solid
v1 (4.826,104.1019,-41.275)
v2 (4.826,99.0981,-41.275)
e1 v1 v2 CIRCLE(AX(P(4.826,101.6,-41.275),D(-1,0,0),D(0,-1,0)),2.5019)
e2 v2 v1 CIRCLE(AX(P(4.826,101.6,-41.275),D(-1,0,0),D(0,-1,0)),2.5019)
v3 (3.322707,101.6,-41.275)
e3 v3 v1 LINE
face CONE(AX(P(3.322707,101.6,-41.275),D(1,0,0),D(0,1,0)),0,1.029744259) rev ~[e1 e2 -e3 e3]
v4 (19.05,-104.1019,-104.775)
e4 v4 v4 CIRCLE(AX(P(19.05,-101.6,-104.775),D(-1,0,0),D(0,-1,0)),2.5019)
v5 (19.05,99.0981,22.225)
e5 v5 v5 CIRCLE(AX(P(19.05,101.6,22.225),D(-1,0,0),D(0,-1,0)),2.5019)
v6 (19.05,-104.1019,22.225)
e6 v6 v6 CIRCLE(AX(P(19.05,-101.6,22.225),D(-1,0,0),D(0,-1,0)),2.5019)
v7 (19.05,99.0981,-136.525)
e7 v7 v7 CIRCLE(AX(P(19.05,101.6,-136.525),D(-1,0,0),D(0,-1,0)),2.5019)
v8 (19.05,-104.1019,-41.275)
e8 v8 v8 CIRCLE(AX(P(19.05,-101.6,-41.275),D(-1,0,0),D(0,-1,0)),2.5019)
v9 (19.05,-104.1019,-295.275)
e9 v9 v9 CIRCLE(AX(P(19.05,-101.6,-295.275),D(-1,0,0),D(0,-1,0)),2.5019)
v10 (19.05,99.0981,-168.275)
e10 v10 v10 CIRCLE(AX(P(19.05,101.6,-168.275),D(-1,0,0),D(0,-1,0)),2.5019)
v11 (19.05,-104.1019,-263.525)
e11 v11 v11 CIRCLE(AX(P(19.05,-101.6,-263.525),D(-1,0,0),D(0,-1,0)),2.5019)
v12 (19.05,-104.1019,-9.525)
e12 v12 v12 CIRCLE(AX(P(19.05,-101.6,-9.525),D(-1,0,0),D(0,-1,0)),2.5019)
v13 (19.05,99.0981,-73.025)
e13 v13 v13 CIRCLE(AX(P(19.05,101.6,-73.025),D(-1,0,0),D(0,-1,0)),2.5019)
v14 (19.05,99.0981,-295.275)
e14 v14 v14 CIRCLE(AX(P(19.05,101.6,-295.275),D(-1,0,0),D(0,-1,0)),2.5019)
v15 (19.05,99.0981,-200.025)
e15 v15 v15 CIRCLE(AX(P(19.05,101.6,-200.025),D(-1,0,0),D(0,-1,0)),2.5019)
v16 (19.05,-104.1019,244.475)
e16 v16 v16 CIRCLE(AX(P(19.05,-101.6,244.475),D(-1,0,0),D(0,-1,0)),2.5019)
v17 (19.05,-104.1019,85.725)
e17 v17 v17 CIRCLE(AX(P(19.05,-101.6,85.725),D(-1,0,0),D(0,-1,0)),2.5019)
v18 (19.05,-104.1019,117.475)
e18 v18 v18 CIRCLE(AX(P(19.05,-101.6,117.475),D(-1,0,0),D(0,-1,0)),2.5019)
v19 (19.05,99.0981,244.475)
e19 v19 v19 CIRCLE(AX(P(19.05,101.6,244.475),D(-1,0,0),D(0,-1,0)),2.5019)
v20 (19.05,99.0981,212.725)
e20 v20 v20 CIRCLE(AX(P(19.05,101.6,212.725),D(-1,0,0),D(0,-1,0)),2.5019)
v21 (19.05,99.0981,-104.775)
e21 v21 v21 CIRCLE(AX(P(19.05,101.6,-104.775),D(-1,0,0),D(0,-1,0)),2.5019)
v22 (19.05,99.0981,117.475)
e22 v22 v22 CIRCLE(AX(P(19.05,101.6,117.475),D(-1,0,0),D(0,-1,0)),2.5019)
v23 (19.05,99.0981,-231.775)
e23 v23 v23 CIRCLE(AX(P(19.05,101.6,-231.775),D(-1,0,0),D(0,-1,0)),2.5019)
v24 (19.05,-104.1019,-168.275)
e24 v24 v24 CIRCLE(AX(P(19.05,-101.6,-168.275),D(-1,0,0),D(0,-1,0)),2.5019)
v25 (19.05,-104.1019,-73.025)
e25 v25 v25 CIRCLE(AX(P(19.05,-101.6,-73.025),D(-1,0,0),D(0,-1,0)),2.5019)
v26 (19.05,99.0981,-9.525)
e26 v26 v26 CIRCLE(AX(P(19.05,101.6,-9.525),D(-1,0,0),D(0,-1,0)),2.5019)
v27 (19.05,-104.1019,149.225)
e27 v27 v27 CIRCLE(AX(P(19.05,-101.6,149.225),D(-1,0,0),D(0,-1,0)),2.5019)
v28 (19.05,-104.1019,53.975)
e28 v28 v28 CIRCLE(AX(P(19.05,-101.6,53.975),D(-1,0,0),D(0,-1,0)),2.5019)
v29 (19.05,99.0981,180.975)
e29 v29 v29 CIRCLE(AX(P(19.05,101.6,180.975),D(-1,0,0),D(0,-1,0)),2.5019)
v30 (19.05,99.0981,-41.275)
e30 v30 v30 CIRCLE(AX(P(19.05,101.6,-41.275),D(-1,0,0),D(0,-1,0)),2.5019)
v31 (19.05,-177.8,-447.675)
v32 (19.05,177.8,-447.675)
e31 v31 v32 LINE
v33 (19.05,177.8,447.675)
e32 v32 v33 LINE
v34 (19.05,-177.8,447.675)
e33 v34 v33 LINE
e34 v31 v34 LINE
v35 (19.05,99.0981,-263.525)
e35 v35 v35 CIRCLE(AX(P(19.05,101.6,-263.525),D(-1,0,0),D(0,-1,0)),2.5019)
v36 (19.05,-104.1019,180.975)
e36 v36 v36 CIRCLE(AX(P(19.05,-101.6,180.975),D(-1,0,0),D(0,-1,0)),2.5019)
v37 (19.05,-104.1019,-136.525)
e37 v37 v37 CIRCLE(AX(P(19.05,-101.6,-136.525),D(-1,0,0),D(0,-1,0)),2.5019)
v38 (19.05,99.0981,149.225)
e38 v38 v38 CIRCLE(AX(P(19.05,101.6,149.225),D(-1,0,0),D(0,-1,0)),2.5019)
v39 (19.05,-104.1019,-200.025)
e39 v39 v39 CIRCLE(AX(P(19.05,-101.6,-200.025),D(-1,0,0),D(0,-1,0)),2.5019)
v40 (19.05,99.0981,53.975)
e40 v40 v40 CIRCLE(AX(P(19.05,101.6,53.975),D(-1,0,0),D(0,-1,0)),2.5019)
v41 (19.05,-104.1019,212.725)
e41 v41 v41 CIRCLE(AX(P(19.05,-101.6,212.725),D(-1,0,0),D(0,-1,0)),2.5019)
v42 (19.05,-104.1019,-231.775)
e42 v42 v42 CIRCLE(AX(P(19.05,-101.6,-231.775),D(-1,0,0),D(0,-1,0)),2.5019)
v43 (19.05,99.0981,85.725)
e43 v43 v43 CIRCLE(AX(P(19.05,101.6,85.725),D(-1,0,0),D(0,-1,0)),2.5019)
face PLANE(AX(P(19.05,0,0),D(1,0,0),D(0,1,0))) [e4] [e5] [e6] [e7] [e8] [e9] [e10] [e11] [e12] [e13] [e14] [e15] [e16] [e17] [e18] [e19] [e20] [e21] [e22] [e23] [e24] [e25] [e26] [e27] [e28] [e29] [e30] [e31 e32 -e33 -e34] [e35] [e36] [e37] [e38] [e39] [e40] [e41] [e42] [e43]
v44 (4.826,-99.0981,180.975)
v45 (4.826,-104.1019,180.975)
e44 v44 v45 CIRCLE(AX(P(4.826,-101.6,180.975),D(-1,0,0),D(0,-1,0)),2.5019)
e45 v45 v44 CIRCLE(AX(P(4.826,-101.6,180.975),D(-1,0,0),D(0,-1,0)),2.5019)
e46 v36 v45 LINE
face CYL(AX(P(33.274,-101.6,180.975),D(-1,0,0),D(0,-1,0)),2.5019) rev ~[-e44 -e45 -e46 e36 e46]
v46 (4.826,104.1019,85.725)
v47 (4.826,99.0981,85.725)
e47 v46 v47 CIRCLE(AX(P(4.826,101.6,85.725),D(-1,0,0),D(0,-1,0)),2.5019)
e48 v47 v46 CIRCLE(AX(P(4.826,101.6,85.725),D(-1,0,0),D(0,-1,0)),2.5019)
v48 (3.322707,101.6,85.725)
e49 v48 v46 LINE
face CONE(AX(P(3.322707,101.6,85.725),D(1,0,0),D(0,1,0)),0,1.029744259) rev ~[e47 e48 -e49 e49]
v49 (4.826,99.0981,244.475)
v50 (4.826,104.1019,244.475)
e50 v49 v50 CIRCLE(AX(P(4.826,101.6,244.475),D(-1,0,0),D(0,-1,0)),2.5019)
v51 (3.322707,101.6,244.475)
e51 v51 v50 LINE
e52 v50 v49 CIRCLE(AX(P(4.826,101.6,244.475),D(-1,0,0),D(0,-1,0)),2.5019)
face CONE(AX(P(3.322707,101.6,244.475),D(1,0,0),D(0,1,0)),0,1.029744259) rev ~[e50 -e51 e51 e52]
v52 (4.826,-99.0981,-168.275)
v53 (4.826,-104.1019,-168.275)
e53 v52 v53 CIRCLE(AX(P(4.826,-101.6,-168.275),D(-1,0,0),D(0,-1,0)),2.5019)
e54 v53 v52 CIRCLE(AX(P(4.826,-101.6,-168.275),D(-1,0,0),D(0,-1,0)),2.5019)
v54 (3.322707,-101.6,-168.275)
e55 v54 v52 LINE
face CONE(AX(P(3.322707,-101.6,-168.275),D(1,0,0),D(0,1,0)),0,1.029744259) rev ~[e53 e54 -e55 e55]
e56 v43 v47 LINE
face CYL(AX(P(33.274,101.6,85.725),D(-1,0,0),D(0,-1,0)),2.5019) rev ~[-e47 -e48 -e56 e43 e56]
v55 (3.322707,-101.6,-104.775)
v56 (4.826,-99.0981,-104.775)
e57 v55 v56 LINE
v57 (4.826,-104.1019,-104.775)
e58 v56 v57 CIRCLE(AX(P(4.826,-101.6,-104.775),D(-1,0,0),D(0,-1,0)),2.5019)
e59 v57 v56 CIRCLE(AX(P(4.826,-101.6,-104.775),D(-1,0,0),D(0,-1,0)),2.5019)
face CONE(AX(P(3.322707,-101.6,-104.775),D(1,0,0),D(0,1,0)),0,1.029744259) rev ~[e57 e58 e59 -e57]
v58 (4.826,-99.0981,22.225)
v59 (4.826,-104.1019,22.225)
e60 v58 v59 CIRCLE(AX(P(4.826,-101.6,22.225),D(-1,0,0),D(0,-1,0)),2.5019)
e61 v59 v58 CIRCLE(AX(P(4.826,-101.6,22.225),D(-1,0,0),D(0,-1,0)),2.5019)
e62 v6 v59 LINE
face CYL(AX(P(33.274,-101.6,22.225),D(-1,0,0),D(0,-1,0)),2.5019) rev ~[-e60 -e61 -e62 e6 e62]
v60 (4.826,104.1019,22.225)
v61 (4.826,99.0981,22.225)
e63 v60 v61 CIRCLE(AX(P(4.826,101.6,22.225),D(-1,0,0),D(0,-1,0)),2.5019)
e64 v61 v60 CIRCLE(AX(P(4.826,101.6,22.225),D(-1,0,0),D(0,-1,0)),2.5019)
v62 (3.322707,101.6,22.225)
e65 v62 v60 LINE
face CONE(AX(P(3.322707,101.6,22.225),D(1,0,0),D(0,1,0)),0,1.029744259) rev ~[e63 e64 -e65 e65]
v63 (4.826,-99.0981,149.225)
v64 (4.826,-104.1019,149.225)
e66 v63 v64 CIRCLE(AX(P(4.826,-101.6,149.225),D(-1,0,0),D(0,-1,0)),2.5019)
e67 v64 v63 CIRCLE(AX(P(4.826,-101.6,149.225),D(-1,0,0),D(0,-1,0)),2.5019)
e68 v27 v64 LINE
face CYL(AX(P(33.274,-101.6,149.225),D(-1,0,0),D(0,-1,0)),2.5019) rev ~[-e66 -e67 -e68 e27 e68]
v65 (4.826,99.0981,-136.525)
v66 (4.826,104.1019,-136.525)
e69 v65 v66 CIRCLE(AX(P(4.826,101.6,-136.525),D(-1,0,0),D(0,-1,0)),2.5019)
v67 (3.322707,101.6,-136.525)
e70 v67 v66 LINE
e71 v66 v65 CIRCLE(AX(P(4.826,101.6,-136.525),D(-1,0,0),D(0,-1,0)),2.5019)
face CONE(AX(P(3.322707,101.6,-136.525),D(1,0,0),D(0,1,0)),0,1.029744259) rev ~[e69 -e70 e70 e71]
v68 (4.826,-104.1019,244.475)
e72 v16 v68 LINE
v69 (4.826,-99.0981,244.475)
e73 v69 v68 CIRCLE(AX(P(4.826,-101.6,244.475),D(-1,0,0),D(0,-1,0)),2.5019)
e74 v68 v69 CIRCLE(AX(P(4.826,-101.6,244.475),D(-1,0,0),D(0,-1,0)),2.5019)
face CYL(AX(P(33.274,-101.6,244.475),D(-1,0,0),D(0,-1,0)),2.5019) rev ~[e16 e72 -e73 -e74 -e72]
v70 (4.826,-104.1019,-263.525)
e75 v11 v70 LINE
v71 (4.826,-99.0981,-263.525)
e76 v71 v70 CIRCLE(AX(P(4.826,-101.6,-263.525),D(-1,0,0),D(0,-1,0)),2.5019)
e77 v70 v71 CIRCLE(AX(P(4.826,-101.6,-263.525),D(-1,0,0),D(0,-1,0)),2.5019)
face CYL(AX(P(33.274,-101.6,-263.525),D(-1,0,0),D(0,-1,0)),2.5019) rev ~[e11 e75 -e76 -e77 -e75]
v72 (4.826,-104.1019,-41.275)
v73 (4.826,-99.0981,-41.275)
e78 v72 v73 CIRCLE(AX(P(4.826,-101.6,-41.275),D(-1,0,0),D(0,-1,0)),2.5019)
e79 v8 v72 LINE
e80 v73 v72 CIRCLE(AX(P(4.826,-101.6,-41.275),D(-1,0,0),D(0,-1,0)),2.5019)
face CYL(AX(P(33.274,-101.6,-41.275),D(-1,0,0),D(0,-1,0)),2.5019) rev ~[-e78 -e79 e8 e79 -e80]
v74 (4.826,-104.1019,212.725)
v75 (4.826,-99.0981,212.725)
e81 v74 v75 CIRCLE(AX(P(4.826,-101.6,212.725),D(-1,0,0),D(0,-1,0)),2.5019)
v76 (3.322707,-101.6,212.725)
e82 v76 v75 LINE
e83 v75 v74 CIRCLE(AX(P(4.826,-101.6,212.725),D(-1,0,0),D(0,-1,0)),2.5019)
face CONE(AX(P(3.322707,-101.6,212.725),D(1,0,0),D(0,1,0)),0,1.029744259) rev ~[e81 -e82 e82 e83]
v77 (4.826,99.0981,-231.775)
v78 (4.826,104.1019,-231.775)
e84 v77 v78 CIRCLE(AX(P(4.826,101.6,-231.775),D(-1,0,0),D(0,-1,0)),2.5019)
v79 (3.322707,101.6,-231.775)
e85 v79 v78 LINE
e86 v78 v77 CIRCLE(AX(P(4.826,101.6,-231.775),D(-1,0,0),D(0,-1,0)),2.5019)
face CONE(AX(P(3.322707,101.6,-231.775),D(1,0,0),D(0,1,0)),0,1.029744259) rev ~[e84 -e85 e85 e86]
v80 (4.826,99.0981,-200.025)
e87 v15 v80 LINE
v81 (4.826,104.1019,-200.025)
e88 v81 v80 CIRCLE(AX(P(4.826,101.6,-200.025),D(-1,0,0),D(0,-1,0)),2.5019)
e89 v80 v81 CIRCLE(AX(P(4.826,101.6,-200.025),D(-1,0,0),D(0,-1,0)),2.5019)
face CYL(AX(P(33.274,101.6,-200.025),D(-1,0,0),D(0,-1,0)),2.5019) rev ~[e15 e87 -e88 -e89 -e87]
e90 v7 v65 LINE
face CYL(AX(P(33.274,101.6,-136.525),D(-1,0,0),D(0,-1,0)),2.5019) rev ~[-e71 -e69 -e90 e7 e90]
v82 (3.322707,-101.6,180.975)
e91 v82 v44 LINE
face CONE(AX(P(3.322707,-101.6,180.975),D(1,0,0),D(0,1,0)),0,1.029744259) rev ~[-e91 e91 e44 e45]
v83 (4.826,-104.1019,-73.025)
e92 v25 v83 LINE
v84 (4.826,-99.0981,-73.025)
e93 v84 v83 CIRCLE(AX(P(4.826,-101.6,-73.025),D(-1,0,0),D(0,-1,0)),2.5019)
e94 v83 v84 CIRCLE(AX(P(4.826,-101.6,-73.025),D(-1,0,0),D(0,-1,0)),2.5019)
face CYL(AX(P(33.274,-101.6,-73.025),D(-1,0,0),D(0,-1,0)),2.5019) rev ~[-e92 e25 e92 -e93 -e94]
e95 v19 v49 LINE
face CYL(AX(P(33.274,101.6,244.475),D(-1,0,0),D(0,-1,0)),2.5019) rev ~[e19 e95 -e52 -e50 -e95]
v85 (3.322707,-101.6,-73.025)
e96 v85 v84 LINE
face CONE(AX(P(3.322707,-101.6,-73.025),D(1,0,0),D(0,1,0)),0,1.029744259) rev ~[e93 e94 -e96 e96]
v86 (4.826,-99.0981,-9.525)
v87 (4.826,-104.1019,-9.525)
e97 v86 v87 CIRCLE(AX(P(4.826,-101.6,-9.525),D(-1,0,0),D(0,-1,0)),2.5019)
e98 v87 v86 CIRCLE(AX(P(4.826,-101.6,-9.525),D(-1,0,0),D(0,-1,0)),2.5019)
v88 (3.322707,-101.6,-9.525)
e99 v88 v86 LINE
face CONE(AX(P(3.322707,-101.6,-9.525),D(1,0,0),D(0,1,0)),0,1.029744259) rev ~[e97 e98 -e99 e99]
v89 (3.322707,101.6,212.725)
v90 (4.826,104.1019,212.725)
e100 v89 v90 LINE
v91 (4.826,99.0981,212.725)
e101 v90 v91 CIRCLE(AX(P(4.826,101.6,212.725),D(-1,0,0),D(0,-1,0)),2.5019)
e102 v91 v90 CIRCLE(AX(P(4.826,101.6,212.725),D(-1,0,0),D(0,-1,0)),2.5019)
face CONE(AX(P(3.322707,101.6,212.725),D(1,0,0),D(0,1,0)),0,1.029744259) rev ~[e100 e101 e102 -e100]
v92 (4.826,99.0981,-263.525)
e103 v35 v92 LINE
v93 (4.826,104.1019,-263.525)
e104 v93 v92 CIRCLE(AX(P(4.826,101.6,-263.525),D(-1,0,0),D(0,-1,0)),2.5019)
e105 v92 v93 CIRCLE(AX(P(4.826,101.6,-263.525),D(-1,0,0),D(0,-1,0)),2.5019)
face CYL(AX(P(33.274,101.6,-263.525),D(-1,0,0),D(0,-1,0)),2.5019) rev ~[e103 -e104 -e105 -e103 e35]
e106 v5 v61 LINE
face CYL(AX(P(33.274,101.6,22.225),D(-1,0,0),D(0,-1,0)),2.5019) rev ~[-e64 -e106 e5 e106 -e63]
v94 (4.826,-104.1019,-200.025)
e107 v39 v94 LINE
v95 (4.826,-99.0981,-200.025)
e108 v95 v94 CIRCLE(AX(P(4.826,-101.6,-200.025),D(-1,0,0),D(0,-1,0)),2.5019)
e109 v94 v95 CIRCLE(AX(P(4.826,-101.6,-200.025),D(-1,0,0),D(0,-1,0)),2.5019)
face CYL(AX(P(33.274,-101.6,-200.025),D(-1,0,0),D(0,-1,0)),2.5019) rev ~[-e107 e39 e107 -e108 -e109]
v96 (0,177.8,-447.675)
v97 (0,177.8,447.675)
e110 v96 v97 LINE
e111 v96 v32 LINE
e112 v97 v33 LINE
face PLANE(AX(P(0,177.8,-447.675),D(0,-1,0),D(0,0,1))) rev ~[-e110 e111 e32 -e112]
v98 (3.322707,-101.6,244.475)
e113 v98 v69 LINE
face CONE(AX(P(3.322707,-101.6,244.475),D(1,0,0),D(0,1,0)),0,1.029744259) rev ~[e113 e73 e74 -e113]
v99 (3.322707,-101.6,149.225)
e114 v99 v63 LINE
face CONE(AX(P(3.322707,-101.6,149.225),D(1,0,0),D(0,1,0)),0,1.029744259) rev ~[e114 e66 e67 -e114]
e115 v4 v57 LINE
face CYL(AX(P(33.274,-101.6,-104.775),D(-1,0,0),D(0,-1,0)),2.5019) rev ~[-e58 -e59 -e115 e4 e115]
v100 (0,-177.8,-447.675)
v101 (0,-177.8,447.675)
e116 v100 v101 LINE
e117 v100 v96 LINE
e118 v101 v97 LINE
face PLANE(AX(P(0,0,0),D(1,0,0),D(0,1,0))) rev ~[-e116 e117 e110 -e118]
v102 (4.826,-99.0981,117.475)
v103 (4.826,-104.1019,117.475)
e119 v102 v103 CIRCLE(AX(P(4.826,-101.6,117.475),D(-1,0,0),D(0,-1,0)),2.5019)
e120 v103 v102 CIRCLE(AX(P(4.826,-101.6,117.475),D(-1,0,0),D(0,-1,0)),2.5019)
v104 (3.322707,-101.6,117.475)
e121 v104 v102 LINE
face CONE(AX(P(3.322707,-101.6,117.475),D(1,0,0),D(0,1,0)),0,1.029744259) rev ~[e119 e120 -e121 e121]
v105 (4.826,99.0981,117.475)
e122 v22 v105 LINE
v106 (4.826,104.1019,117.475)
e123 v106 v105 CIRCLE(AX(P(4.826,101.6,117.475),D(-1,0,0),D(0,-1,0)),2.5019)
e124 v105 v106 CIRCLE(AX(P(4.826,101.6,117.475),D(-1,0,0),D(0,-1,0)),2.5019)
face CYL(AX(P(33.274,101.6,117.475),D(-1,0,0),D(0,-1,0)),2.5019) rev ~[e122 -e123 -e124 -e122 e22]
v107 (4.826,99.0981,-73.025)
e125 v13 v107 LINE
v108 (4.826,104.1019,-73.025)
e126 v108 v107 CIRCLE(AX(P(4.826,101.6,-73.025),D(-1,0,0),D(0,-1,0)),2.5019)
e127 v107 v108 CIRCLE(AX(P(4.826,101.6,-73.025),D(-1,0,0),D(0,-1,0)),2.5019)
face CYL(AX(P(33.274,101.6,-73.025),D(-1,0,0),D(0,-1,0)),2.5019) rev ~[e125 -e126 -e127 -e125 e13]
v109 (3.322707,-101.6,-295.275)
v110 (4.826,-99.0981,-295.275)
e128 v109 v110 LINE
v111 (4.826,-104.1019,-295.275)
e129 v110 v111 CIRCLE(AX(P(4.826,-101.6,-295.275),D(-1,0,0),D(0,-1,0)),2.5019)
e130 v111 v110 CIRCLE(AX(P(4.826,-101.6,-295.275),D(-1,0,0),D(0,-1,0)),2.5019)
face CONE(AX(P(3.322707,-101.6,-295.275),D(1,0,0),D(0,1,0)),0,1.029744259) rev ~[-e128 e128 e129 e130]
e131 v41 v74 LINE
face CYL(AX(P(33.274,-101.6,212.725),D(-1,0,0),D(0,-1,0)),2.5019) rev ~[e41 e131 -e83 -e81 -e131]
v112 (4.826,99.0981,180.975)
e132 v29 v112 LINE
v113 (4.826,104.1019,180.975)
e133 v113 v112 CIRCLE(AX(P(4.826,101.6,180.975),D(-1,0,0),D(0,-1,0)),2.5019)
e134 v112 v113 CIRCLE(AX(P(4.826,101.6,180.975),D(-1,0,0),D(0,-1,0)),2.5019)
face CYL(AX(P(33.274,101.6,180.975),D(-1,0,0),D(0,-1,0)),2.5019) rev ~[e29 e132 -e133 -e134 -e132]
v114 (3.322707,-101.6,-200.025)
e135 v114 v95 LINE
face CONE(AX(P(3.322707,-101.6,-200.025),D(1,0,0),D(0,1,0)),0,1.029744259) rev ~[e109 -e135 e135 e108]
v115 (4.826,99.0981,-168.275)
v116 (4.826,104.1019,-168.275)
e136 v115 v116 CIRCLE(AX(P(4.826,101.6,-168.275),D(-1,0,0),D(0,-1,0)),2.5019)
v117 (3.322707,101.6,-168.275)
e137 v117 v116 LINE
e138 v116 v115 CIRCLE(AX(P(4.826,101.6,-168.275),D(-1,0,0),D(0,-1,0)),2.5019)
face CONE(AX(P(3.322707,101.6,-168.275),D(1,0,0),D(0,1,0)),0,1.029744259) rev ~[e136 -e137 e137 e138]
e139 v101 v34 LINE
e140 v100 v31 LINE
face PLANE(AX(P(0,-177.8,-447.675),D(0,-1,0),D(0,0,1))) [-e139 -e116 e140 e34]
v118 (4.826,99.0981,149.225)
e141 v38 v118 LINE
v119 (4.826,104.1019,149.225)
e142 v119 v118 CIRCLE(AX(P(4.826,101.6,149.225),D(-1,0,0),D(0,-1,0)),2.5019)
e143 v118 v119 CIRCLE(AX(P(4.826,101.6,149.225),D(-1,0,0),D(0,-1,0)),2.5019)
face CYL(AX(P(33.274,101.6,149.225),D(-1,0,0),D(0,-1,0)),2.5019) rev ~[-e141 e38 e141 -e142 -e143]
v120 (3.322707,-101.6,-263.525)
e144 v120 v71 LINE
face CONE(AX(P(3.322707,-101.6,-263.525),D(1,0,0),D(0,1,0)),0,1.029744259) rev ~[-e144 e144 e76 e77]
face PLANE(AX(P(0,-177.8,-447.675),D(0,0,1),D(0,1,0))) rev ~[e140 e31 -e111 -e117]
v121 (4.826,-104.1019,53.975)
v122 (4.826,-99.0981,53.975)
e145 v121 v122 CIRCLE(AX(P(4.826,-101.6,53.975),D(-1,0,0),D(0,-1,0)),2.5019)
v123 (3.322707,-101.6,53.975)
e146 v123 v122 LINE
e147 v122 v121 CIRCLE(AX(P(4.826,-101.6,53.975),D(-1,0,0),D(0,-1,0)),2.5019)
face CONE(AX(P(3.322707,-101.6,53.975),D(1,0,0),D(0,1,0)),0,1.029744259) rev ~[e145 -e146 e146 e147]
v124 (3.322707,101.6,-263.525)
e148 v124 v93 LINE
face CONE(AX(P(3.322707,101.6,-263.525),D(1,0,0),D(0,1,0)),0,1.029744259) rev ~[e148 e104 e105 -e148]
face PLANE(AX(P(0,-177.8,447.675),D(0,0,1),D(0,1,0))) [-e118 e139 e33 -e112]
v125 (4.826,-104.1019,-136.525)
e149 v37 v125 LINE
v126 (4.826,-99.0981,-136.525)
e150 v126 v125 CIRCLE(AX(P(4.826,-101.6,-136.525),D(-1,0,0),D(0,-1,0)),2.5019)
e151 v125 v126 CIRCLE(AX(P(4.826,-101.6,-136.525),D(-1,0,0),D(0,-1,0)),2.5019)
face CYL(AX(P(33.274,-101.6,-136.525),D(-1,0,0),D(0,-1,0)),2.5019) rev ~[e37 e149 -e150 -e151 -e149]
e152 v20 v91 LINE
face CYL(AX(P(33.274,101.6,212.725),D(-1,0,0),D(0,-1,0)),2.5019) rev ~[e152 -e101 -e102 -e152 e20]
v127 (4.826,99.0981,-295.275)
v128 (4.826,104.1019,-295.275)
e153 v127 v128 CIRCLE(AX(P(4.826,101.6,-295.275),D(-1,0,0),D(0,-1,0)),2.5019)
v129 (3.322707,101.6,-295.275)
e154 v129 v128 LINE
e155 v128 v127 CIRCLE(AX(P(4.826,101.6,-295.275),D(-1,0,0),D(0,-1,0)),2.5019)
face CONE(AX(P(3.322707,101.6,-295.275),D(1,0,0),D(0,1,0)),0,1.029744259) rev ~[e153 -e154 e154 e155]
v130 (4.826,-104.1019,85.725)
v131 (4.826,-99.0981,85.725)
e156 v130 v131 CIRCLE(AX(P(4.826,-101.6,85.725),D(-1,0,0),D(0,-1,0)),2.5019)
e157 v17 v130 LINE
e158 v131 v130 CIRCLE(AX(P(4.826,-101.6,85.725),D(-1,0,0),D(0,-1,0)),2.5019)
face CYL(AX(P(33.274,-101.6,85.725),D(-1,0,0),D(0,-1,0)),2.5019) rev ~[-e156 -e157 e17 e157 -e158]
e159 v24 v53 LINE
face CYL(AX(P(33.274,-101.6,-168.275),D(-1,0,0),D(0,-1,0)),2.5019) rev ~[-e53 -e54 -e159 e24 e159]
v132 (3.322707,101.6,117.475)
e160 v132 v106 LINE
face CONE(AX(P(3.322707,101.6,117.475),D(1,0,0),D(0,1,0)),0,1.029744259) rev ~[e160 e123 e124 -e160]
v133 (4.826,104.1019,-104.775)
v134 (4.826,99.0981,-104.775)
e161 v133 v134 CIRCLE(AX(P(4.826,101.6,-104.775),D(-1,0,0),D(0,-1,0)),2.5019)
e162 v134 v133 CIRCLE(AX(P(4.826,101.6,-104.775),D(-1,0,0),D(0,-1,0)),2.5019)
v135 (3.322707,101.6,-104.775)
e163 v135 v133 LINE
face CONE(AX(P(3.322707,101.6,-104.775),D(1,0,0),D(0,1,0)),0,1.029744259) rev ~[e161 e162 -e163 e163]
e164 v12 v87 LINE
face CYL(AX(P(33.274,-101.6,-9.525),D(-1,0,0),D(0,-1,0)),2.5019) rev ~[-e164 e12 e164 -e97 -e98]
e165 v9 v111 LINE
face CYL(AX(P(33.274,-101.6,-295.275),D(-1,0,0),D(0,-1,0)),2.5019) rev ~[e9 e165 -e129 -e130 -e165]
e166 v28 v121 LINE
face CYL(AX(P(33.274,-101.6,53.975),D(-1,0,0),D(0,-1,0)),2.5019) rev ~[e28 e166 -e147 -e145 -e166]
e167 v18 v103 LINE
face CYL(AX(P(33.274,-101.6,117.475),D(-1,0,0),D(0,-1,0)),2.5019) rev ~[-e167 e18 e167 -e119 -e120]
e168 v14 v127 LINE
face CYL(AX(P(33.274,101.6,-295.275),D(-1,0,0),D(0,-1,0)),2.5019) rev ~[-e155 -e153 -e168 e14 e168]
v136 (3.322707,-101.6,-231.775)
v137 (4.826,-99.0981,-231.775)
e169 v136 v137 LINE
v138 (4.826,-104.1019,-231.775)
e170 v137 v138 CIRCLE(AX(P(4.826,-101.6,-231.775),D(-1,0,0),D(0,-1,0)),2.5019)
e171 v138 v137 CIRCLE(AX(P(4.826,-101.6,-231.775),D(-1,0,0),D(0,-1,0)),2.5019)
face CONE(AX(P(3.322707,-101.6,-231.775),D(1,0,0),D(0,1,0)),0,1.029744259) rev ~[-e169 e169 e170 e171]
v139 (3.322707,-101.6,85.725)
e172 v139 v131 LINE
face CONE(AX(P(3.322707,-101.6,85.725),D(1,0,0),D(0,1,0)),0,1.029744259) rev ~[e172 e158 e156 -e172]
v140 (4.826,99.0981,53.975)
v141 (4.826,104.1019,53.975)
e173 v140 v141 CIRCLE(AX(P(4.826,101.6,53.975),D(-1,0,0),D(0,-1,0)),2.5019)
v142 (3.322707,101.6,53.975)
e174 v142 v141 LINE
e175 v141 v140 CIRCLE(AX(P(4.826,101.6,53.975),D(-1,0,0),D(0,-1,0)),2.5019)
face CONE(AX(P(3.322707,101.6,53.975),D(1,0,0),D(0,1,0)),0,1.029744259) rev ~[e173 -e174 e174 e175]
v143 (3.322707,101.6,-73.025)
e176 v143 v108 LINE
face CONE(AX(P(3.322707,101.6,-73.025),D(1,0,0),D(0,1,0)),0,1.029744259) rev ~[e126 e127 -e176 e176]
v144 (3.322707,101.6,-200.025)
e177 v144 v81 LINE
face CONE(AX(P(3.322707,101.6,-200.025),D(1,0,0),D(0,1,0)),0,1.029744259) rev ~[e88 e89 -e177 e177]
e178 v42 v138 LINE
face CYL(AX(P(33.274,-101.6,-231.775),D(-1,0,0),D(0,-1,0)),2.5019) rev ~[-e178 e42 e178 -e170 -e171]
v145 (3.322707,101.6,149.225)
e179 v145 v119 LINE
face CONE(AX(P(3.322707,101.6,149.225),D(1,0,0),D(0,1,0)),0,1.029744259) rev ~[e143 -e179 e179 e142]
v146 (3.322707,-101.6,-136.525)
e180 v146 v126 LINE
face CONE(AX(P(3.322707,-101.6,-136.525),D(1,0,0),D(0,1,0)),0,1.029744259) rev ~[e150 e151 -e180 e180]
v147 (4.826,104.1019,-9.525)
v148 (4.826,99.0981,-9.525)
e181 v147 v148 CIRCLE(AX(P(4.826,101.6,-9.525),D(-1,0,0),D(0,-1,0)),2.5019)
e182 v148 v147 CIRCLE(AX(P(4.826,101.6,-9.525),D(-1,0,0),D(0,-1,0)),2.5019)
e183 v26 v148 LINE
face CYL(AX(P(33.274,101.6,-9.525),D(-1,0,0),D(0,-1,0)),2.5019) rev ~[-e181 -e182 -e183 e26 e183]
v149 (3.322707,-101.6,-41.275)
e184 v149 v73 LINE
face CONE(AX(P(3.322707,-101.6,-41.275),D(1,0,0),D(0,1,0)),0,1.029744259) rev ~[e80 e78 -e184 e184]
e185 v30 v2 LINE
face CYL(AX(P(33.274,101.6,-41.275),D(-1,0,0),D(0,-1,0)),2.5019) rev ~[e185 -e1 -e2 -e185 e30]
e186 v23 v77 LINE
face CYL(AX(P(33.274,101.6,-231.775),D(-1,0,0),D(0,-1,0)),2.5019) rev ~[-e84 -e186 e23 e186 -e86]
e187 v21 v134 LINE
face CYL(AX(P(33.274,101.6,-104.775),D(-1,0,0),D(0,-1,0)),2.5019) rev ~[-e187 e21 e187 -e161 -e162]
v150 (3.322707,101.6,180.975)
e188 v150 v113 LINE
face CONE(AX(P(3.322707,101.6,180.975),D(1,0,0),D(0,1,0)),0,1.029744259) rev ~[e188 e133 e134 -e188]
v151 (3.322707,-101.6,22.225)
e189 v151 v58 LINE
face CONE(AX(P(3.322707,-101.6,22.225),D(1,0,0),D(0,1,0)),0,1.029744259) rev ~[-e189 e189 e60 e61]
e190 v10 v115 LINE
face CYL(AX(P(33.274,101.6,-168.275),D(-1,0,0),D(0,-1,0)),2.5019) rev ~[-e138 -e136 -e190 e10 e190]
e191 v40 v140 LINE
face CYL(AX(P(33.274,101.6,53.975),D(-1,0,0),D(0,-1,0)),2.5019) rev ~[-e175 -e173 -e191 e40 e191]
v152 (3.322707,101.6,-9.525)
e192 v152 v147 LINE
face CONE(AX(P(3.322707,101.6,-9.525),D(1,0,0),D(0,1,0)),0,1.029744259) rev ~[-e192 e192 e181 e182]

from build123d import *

# Parameters (mm, degrees)
F0_W     = 355.6
F0_H     = 895.35
F1_DEPTH = 19.05
F3_D     = 5.0038
F3_DEPTH = 14.224
F3_TIP   = 1.5032931827


with BuildPart() as f1:
    # F0 (on Right) → F1 (new body)
    with BuildSketch(Plane.YZ):
        Rectangle(F0_W, F0_H)
    extrude(amount=F1_DEPTH)

    # F3
    with Locations(Plane.YZ.offset(19.05)):
        with Locations((-101.6, 244.475), (-101.6, 212.725), (-101.6, 180.975), (-101.6, 149.225), (-101.6, 85.725), (-101.6, 53.975), (-101.6, 117.475), (-101.6, 22.225), (-101.6, -9.525), (-101.6, -73.025), (-101.6, -104.775), (-101.6, -136.525), (-101.6, -136.525), (-101.6, -168.275), (-101.6, -200.025), (-101.6, -231.775), (-101.6, -263.525), (-101.6, -295.275), (-101.6, -41.275), (101.6, 244.475), (101.6, 212.725), (101.6, 180.975), (101.6, 149.225), (101.6, 117.475), (101.6, 85.725), (101.6, 53.975), (101.6, 22.225), (101.6, -9.525), (101.6, -41.275), (101.6, -73.025), (101.6, -104.775), (101.6, -136.525), (101.6, -168.275), (101.6, -200.025), (101.6, -231.775), (101.6, -263.525), (101.6, -295.275)):
            Hole(F3_D / 2, depth=F3_DEPTH)
            with Locations((0, 0, -(F3_DEPTH + F3_TIP / 2))):  # 118° drill point
                Cone(0, F3_D / 2, F3_TIP, mode=Mode.SUBTRACT)


solid = f1.part
